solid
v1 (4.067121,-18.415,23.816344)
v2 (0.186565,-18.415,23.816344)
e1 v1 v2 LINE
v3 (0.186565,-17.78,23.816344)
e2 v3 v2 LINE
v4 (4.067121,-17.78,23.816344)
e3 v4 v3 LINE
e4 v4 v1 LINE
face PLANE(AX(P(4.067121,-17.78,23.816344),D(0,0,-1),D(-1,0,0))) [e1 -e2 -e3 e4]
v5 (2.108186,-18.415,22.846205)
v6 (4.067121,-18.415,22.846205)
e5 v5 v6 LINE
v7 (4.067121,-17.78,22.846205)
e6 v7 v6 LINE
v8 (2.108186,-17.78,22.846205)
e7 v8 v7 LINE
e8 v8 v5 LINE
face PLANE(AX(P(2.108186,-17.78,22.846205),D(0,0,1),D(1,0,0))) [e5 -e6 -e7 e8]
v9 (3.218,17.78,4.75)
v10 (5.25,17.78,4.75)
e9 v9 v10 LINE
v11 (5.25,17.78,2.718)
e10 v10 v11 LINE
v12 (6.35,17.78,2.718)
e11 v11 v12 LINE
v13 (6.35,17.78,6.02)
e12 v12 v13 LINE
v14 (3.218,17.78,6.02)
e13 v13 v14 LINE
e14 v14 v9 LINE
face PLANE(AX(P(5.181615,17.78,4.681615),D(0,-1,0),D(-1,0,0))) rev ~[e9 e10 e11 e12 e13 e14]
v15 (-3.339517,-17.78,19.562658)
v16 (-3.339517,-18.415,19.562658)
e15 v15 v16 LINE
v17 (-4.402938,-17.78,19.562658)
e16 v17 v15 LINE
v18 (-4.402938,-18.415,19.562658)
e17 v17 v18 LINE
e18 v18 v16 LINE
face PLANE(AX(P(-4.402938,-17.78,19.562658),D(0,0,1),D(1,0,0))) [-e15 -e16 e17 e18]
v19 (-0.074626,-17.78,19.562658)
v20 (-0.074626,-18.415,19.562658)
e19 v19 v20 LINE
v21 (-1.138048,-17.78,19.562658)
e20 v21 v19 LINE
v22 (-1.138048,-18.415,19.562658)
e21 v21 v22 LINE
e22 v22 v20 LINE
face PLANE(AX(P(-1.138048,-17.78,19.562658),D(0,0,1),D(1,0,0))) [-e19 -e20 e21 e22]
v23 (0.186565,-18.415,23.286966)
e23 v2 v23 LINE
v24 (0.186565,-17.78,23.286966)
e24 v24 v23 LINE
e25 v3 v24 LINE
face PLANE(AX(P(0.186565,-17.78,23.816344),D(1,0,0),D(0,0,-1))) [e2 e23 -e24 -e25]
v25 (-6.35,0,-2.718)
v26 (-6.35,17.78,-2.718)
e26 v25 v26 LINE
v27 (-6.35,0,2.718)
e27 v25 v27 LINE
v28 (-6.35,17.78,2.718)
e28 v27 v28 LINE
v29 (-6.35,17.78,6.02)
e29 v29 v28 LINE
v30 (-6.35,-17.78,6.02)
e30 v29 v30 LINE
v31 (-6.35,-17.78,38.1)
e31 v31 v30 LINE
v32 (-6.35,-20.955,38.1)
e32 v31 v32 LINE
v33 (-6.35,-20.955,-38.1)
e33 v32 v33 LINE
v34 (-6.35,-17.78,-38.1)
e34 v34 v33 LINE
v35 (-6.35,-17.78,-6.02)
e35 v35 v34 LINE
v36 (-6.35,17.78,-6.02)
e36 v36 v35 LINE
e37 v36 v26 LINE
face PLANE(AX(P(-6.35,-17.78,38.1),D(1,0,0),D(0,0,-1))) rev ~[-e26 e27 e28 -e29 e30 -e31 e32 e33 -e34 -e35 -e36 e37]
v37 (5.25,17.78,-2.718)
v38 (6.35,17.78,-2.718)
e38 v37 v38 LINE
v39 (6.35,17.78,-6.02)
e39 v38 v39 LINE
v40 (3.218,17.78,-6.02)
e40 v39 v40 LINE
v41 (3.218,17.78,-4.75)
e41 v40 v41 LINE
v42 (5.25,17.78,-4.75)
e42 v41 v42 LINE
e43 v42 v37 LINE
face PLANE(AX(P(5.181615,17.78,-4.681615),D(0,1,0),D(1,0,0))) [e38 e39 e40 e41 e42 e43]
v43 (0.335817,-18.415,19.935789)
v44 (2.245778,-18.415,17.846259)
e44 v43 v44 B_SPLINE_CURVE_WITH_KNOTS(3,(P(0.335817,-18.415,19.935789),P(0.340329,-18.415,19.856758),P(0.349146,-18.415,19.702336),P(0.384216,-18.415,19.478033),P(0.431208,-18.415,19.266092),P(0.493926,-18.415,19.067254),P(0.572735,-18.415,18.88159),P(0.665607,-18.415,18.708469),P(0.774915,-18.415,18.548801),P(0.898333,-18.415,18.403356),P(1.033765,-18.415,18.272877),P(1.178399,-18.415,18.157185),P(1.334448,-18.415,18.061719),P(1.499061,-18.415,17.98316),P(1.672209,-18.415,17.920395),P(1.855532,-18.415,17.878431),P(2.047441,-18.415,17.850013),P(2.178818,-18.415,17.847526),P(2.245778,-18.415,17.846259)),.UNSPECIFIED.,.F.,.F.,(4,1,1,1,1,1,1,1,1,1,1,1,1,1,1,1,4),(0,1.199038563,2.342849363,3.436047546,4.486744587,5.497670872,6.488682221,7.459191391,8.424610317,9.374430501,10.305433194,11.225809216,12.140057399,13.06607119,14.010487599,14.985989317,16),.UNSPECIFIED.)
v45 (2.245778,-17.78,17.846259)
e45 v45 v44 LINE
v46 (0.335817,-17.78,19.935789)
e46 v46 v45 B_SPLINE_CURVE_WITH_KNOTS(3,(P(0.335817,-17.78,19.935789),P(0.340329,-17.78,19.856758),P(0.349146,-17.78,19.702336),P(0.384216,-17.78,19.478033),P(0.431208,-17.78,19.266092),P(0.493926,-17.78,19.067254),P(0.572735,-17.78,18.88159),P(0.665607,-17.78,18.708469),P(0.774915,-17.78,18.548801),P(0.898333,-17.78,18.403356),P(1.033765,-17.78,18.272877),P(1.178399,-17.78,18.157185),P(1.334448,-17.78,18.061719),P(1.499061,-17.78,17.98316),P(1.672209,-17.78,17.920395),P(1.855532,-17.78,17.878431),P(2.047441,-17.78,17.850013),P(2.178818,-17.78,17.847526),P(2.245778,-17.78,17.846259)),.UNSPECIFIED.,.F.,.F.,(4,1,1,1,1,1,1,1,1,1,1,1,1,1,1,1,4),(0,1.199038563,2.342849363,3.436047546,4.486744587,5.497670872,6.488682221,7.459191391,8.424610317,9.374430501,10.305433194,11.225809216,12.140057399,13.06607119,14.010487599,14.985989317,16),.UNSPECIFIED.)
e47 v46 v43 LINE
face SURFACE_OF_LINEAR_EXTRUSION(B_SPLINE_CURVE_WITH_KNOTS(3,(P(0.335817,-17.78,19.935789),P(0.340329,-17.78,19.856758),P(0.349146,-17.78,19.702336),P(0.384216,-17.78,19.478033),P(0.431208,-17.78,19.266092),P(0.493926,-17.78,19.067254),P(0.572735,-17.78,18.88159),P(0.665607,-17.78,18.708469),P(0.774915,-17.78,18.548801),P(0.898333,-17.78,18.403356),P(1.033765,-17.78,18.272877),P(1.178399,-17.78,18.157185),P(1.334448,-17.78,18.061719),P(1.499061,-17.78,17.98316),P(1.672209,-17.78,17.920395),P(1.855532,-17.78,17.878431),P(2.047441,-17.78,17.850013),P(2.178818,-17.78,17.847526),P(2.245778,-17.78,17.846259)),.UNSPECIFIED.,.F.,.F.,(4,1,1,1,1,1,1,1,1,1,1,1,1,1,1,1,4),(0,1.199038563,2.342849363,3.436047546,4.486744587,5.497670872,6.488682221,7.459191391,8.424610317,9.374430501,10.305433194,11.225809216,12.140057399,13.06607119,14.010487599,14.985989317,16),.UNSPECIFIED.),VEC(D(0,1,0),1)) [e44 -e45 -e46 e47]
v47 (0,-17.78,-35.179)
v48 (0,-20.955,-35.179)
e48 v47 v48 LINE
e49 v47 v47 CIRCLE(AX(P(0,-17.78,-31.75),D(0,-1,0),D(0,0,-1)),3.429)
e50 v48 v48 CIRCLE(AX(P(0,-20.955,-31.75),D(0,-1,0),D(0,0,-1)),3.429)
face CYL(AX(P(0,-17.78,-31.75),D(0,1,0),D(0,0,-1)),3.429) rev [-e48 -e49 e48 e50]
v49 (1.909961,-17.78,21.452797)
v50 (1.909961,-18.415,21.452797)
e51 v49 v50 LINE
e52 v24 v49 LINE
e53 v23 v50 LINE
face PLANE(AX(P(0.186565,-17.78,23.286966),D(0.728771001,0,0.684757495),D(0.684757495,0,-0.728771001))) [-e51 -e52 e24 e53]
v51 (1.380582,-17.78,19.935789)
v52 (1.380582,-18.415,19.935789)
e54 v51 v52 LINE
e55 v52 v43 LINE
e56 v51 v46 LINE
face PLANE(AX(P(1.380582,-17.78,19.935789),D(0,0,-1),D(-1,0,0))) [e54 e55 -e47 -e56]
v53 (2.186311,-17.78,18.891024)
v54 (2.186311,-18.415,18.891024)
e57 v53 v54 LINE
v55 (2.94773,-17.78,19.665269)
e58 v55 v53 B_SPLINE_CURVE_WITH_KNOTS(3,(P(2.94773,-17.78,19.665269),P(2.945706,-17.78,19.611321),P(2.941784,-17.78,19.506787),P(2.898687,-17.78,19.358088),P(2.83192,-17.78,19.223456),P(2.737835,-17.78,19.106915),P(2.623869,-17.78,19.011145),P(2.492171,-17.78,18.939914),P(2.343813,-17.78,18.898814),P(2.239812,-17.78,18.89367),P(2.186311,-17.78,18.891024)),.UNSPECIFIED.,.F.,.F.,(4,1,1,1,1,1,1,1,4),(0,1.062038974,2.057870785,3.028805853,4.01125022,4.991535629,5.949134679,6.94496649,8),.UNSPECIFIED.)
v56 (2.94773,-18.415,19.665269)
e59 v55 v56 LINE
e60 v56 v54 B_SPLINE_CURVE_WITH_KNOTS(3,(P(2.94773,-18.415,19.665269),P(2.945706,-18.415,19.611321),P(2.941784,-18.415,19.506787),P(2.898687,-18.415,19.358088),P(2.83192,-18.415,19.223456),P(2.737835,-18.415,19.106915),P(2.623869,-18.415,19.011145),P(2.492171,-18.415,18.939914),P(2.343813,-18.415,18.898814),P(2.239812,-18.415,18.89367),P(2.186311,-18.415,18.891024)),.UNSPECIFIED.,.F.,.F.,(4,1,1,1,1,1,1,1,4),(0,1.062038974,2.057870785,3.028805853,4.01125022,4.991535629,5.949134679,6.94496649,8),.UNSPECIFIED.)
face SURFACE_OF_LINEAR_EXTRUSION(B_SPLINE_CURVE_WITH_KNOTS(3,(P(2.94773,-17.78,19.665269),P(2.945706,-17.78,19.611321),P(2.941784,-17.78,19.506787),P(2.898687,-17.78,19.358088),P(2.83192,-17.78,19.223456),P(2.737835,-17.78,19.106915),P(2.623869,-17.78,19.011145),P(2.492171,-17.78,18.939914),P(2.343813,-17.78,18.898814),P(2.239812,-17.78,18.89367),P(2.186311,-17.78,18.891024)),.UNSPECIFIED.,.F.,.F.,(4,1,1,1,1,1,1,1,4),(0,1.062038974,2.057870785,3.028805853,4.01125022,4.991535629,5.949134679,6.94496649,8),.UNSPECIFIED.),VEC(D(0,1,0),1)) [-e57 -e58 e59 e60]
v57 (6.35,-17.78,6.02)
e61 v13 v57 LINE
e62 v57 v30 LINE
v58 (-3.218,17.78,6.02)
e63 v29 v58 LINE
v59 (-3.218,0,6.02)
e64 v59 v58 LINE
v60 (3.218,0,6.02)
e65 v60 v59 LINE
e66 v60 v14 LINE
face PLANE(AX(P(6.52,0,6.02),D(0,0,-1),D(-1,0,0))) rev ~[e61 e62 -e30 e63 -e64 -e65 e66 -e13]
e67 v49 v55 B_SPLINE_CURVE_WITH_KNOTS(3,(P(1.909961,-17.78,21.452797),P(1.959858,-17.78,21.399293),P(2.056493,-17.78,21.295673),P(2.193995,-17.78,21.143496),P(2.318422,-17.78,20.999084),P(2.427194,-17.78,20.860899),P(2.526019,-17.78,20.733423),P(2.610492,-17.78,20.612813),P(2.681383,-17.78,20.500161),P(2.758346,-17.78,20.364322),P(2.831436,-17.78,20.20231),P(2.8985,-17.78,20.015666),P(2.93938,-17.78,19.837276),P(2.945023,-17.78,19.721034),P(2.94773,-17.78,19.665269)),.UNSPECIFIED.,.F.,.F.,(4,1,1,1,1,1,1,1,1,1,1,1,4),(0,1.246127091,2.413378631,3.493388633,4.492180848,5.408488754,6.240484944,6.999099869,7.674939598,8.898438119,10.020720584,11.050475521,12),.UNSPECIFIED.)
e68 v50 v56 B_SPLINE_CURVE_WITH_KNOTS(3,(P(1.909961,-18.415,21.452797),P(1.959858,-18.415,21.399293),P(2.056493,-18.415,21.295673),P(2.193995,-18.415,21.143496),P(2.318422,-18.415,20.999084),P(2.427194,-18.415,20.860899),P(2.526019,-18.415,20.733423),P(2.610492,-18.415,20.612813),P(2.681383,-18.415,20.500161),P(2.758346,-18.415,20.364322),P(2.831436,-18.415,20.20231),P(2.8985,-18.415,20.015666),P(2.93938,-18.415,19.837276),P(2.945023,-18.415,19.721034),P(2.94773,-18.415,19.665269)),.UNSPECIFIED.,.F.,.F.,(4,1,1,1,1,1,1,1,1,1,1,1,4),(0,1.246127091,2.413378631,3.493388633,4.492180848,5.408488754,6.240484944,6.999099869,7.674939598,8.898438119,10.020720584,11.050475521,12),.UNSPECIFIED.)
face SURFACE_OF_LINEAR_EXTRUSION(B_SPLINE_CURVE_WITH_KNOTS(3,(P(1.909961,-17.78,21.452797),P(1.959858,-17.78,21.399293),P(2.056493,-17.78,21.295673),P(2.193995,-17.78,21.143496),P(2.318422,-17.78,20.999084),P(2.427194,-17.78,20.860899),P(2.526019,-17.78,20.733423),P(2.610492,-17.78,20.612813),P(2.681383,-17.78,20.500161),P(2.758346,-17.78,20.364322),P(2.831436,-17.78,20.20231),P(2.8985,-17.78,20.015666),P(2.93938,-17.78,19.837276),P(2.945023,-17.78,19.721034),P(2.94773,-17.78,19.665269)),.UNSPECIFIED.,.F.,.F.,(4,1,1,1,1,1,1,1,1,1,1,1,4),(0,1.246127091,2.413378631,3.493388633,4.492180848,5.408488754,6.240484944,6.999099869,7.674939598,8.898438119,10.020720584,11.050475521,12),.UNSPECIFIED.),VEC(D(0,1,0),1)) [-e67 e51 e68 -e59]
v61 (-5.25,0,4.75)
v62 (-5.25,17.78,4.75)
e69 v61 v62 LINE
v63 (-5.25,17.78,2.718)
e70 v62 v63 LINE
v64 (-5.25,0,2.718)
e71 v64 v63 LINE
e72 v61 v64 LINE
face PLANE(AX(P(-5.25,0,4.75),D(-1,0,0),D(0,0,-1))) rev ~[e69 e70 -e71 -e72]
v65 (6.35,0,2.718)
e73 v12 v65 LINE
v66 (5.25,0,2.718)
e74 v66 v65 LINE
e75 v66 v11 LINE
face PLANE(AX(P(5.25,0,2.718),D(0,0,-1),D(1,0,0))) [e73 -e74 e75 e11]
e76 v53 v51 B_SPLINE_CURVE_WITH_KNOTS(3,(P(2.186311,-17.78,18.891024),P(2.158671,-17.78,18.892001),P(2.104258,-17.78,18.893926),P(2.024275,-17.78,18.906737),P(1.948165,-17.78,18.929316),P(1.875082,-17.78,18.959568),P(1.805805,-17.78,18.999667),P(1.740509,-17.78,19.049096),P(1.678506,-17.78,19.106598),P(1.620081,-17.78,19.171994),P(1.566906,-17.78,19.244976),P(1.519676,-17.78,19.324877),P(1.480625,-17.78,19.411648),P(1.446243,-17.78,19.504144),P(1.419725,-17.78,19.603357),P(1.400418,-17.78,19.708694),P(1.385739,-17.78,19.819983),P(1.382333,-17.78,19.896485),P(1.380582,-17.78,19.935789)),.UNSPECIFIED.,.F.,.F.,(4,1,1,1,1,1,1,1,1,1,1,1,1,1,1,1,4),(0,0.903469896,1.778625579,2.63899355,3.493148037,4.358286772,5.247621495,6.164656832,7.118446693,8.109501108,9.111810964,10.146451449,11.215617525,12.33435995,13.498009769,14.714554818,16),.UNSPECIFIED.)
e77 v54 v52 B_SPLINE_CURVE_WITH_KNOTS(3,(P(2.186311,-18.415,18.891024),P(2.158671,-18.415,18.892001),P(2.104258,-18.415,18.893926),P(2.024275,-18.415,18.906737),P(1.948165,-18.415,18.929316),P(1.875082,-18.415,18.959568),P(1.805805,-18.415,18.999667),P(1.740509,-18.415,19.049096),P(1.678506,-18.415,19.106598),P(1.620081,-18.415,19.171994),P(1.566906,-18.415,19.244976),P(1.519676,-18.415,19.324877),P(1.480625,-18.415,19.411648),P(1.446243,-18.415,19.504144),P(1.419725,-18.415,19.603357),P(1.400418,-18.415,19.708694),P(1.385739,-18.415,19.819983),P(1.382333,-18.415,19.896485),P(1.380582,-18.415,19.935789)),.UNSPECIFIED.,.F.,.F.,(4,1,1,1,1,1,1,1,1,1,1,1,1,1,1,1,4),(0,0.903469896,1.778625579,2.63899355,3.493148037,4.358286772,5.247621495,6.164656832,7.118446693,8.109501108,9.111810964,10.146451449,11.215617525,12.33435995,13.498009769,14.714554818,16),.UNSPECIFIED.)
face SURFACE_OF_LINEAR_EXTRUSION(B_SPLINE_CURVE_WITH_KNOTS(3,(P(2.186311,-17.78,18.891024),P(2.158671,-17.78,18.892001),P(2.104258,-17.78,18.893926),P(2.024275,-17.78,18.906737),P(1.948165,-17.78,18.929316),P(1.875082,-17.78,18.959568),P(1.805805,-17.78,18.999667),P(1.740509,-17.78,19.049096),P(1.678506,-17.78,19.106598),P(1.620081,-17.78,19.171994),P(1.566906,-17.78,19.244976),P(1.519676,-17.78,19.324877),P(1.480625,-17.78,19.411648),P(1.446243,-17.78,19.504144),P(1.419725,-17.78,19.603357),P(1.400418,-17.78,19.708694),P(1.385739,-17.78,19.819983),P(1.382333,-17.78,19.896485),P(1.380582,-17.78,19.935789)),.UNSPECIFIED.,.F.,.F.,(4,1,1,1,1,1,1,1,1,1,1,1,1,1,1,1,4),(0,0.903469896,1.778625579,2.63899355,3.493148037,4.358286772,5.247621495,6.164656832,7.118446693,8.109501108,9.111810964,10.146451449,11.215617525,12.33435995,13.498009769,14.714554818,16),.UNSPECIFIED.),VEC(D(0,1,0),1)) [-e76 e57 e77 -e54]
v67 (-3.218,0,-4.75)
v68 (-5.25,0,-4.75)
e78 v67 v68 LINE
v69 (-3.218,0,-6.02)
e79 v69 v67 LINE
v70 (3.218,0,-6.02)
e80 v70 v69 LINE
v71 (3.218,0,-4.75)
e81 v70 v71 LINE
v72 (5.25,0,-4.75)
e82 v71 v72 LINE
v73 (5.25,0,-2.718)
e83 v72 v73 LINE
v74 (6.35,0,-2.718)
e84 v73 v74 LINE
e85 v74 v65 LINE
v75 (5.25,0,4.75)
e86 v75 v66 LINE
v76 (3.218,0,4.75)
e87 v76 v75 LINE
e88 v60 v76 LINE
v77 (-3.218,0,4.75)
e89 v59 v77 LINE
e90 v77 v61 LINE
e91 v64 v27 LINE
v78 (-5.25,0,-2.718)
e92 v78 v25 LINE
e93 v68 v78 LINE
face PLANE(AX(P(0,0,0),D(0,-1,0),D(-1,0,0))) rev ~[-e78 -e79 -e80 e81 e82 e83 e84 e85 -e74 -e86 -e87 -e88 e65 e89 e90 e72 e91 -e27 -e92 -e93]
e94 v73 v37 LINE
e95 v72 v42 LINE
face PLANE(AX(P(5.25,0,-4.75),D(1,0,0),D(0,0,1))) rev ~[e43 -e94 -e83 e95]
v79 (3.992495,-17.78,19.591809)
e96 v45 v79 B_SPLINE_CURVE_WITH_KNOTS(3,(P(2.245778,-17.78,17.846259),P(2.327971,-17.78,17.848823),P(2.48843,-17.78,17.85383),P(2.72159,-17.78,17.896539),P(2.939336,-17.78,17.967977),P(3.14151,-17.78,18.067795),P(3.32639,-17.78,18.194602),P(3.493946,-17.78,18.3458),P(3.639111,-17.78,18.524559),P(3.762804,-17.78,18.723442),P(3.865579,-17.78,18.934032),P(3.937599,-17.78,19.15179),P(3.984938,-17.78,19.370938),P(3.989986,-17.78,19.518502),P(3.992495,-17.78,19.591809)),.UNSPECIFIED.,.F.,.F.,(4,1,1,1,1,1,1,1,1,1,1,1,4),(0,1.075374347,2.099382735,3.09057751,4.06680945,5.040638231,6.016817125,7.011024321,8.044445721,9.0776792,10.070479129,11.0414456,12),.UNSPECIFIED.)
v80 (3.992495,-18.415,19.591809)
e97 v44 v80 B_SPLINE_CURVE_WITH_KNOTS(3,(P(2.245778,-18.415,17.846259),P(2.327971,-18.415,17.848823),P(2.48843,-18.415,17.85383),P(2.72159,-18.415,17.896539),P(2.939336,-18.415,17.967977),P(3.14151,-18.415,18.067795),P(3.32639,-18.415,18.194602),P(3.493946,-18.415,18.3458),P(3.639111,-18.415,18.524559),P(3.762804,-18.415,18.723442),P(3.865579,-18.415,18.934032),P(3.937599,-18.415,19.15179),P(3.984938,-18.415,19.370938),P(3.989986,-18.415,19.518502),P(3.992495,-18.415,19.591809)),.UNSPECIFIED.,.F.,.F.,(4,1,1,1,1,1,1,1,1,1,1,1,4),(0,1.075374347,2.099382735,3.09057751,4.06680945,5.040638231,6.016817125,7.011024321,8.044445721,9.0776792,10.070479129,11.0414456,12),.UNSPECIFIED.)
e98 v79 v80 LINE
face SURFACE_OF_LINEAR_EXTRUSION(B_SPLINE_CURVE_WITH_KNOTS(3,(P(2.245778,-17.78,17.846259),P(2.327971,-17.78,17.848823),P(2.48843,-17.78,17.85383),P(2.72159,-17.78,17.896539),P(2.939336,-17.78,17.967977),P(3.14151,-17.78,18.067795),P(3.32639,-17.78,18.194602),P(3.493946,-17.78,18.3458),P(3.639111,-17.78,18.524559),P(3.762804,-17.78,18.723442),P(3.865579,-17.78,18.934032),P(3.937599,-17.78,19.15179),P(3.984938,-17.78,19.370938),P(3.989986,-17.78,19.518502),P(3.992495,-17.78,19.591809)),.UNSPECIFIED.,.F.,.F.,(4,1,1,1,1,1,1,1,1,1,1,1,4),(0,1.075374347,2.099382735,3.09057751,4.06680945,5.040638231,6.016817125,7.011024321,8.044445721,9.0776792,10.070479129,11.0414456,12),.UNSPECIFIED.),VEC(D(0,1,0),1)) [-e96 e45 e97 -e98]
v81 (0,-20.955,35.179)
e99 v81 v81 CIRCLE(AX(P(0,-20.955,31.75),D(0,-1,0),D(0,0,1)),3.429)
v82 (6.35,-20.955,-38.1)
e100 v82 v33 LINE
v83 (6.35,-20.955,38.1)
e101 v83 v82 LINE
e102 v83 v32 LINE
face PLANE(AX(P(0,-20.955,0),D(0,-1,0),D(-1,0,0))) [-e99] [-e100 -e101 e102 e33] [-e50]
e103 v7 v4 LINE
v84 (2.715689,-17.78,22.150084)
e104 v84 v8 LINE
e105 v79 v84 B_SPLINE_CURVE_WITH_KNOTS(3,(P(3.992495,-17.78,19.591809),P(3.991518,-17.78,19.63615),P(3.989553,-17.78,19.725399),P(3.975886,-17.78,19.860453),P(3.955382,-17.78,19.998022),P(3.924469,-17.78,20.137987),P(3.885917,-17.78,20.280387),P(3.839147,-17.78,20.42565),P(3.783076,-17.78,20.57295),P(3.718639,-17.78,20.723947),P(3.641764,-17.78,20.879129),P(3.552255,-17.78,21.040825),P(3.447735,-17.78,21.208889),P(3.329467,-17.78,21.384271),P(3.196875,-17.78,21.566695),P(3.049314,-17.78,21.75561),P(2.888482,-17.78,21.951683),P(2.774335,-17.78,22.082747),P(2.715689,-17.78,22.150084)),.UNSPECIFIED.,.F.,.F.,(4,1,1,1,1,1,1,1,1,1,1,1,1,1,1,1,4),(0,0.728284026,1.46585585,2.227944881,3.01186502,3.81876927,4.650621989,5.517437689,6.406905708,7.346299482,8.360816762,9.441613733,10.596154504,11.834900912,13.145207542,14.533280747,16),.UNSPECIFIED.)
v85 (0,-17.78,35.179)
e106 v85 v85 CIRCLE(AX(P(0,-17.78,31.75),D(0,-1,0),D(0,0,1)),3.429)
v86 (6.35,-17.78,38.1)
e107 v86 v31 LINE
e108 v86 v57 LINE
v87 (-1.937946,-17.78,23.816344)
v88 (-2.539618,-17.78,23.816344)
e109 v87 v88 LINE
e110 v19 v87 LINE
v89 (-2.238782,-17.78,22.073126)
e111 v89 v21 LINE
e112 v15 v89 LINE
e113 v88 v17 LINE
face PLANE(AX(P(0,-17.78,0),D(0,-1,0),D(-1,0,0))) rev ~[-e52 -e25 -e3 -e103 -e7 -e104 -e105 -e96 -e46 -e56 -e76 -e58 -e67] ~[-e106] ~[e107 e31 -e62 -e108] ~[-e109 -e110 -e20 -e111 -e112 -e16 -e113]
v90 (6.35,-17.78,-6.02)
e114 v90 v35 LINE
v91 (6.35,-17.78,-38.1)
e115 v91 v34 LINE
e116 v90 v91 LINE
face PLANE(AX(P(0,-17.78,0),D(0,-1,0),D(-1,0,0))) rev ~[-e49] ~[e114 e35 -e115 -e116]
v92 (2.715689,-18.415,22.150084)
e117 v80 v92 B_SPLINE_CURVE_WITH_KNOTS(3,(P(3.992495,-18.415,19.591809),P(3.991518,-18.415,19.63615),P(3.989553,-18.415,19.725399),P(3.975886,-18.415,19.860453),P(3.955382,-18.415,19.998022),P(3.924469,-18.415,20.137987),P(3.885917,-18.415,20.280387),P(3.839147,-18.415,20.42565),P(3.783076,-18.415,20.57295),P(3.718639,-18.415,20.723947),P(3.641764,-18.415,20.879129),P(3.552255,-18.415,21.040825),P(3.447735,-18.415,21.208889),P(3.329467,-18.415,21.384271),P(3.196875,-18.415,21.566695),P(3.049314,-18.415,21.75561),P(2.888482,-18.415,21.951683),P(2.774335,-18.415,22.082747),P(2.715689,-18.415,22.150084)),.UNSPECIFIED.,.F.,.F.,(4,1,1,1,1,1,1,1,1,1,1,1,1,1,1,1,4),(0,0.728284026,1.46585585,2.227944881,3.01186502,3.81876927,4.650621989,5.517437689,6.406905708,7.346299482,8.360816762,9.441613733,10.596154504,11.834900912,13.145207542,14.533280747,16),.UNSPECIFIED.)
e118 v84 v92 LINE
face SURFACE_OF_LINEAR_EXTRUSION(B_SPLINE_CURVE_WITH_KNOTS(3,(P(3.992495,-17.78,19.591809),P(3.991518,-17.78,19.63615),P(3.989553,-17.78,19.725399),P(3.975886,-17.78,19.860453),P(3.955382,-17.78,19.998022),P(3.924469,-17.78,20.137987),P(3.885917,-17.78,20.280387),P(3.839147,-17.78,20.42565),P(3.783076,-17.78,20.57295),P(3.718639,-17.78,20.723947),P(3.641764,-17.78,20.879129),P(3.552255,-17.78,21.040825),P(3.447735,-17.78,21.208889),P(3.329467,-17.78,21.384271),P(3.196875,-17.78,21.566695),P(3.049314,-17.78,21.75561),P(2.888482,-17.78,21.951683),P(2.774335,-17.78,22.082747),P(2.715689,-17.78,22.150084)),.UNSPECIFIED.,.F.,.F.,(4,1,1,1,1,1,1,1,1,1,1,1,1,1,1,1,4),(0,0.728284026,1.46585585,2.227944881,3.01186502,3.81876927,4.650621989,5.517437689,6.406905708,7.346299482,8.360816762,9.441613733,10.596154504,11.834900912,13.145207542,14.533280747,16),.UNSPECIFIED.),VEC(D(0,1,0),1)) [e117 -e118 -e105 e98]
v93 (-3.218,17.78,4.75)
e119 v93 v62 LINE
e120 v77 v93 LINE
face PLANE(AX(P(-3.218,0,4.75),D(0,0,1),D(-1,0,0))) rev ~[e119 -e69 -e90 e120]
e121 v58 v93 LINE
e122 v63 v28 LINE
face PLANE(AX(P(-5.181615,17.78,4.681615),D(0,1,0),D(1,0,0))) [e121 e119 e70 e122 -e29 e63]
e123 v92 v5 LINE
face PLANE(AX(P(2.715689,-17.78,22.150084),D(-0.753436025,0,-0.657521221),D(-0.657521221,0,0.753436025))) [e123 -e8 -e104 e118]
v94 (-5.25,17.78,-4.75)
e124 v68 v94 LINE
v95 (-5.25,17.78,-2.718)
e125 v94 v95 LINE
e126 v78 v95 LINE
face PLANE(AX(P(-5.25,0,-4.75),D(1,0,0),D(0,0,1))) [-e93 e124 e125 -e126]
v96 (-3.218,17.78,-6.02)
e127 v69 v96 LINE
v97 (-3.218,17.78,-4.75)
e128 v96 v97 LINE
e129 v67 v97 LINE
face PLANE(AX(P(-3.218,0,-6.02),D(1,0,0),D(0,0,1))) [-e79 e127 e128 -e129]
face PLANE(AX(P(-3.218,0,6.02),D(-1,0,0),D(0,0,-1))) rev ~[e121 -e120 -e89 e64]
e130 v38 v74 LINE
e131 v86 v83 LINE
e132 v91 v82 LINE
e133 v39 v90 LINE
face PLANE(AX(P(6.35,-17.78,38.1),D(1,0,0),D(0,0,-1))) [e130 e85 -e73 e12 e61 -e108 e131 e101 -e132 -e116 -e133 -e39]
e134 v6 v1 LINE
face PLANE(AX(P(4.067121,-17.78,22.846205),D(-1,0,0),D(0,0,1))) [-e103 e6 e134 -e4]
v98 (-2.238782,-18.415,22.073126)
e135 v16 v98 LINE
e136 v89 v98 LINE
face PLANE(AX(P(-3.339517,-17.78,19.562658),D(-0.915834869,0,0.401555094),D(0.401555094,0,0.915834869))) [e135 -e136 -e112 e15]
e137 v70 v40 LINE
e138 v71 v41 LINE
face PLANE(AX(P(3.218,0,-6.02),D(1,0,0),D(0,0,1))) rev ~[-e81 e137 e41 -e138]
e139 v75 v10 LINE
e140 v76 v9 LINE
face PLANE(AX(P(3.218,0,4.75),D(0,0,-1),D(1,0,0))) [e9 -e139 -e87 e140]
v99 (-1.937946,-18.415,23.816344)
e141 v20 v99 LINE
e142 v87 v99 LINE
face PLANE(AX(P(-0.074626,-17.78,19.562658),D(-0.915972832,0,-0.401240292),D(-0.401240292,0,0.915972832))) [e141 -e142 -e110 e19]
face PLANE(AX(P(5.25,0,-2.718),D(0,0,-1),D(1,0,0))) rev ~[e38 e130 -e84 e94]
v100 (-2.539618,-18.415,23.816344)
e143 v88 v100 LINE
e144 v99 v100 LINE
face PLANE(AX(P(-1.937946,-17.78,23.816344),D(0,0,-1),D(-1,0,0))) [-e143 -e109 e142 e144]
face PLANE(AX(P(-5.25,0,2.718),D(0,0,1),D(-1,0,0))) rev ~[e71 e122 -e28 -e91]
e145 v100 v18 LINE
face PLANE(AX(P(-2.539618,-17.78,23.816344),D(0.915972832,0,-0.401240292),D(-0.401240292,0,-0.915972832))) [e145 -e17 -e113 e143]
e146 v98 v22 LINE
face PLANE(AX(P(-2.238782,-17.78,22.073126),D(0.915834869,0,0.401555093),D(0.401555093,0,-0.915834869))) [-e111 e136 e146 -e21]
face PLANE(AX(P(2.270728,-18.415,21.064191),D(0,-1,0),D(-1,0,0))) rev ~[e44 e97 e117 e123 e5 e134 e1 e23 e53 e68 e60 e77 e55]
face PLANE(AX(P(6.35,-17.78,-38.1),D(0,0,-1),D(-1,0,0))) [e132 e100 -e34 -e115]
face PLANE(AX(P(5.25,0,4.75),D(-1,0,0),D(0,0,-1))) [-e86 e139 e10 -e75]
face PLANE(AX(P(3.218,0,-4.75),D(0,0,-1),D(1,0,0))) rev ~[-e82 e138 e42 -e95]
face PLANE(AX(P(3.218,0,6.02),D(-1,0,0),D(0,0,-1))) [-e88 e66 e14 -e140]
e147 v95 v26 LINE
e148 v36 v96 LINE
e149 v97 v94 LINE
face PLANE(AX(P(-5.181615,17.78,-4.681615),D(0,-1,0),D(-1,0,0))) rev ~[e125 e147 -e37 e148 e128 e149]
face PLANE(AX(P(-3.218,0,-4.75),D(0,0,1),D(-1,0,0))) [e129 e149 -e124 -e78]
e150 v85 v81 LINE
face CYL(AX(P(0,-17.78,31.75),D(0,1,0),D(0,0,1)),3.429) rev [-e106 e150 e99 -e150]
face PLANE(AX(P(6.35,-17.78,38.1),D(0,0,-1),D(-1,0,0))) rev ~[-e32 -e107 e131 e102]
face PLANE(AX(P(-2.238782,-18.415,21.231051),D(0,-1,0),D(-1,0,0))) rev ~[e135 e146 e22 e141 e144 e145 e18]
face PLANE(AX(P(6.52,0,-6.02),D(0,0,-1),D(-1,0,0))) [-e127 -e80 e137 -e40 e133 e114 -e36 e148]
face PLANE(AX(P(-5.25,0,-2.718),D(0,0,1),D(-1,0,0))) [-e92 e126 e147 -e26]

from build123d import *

# Parameters (mm, degrees)
BOSS_EXTRUDE1_DEPTH   = 17.78
BOSS_EXTRUDE1_2_DEPTH = 17.78
BOSS_EXTRUDE1_3_DEPTH = 17.78
BOSS_EXTRUDE1_4_DEPTH = 17.78
SKETCH2_W             = 13.04
SKETCH2_H             = 12.04
BOSS_EXTRUDE2_DEPTH   = 17.78
SKETCH3_W             = 12.7
SKETCH3_H             = 76.2
SKETCH3_R             = 3.429
BOSS_EXTRUDE3_DEPTH   = 3.175
SKETCH4_OUTSIDE_W     = 32.334
SKETCH4_OUTSIDE_H     = 95.494
SKETCH4_OUTSIDE_W_2   = 12.7
SKETCH4_OUTSIDE_H_2   = 76.2
CUT_EXTRUDE2_DEPTH    = 55.722213268
CUT_EXTRUDE3_DEPTH    = 0.635


with BuildPart() as part:
    # Sketch1 → Boss-Extrude1 (new body)
    with BuildSketch(Plane(origin=(0, 0, 0), x_dir=(1, 0, 0), z_dir=(0, 1, 0))):
        Polygon((-5.25, 4.75), (-5.25, 2.718), (-6.52, 2.718), (-6.52, 6.02), (-3.218, 6.02), (-3.218, 4.75), align=None)
    extrude(amount=BOSS_EXTRUDE1_DEPTH)



with BuildPart() as body_2:
    # Sketch1 → Boss-Extrude1 2 (new body)
    with BuildSketch(Plane(origin=(0, 0, 0), x_dir=(1, 0, 0), z_dir=(0, 1, 0))):
        Polygon((6.52, 2.718), (6.52, 6.02), (3.218, 6.02), (3.218, 4.75), (5.25, 4.75), (5.25, 2.718), align=None)
    extrude(amount=BOSS_EXTRUDE1_2_DEPTH)


with BuildPart() as body_3:
    # Sketch1 → Boss-Extrude1 3 (new body)
    with BuildSketch(Plane(origin=(0, 0, 0), x_dir=(1, 0, 0), z_dir=(0, 1, 0))):
        Polygon((5.25, -2.718), (6.52, -2.718), (6.52, -6.02), (3.218, -6.02), (3.218, -4.75), (5.25, -4.75), align=None)
    extrude(amount=BOSS_EXTRUDE1_3_DEPTH)


with BuildPart() as body_4:
    # Sketch1 → Boss-Extrude1 4 (new body)
    with BuildSketch(Plane(origin=(0, 0, 0), x_dir=(1, 0, 0), z_dir=(0, 1, 0))):
        Polygon((-5.25, -2.718), (-6.52, -2.718), (-6.52, -6.02), (-3.218, -6.02), (-3.218, -4.75), (-5.25, -4.75), align=None)
    extrude(amount=BOSS_EXTRUDE1_4_DEPTH)


with BuildPart() as part_1:
    add(part.part)

    add(body_2.part)  # Boss-Extrude2 merges body 2

    add(body_3.part)  # Boss-Extrude2 merges body 3

    add(body_4.part)  # Boss-Extrude2 merges body 4
    # Sketch2 → Boss-Extrude2 (add)
    with BuildSketch(Plane(origin=(0, 0, 0), x_dir=(-1, 0, 0), z_dir=(0, -1, 0))):
        Rectangle(SKETCH2_W, SKETCH2_H)
    extrude(amount=BOSS_EXTRUDE2_DEPTH)

    # Sketch3 → Boss-Extrude3 (add)
    with BuildSketch(Plane(origin=(0, -17.78, 0), x_dir=(-1, 0, 0), z_dir=(0, -1, 0))):
        Rectangle(SKETCH3_W, SKETCH3_H)
        with Locations(Location((0, 31.75, 0), (0, 0, 90))):
            Circle(SKETCH3_R, mode=Mode.SUBTRACT)
        with Locations(Location((0, -31.75, 0), (0, 0, 270))):
            Circle(SKETCH3_R, mode=Mode.SUBTRACT)
    extrude(amount=BOSS_EXTRUDE3_DEPTH)

    # Sketch4 outside → Cut-Extrude2 (cut, through all)
    with BuildSketch(Plane.XZ.offset(20.955)):
        Rectangle(SKETCH4_OUTSIDE_W, SKETCH4_OUTSIDE_H)
        Rectangle(SKETCH4_OUTSIDE_W_2, SKETCH4_OUTSIDE_H_2, mode=Mode.SUBTRACT)
    extrude(amount=-CUT_EXTRUDE2_DEPTH, mode=Mode.SUBTRACT)

    # Sketch5 → Cut-Extrude3 (cut)
    with BuildSketch(Plane(origin=(0, -17.78, 0), x_dir=(1, 0, 0), z_dir=(0, 1, 0))):
        Polygon((-4.402938034, -19.56265828), (-3.33951656, -19.56265828), (-2.238782051, -22.073125862), (-1.138047543, -19.56265828), (-0.074626068, -19.56265828), (-1.937945713, -23.816344178), (-2.539618389, -23.816344178), align=None)
        with BuildLine():
            Line((1.380582265, -19.935788622), (0.335817308, -19.935788622))
            add(Edge.make_bspline(
                [(0.335817308, -19.935788622), (0.340329487, -19.85675768), (0.349146015, -19.702335965), (0.384215936, -19.478033479), (0.431208425, -19.266092295), (0.493926141, -19.067253807), (0.572735055, -18.881590265), (0.665607209, -18.708468733), (0.774915278, -18.5488007), (0.898332826, -18.403356174), (1.033764562, -18.272876548), (1.17839879, -18.157185114), (1.334447887, -18.061719455), (1.499060707, -17.983160056), (1.672209219, -17.920394746), (1.855531682, -17.878431057), (2.04744079, -17.850012836), (2.178818114, -17.847526128), (2.245778245, -17.846258707)],
                knots=[0, 0, 0, 0, 1.199038563, 2.342849363, 3.436047546, 4.486744587, 5.497670872, 6.488682221, 7.459191391, 8.424610317, 9.374430501, 10.305433194, 11.225809216, 12.140057399, 13.06607119, 14.010487599, 14.985989317, 16, 16, 16, 16], degree=3))
            add(Edge.make_bspline(
                [(2.245778245, -17.846258707), (2.327970856, -17.848823334), (2.488430093, -17.853830085), (2.721590093, -17.896539334), (2.93933604, -17.967977154), (3.141509653, -18.067794628), (3.326389793, -18.194602266), (3.493945801, -18.34579962), (3.639110517, -18.52455889), (3.762804328, -18.723442196), (3.865579101, -18.934031626), (3.937599381, -19.151789829), (3.984937536, -19.370938387), (3.989986444, -19.518501933), (3.992494658, -19.591809088)],
                knots=[0, 0, 0, 0, 1.075374347, 2.099382735, 3.09057751, 4.06680945, 5.040638231, 6.016817125, 7.011024321, 8.044445721, 9.0776792, 10.070479129, 11.0414456, 12, 12, 12, 12], degree=3))
            add(Edge.make_bspline(
                [(3.992494658, -19.591809088), (3.991518092, -19.636150437), (3.989552505, -19.725398619), (3.97588552, -19.860453023), (3.955382341, -19.998021723), (3.924468545, -20.137986768), (3.885916506, -20.280387391), (3.839147311, -20.425649748), (3.783076101, -20.572950255), (3.718638592, -20.723946755), (3.641764481, -20.879129473), (3.552255264, -21.04082466), (3.447735164, -21.208888878), (3.329466651, -21.384271073), (3.196875325, -21.566694641), (3.049313917, -21.755610064), (2.888481989, -21.95168302), (2.774335046, -22.082746787), (2.715689269, -22.150083995)],
                knots=[0, 0, 0, 0, 0.728284026, 1.46585585, 2.227944881, 3.01186502, 3.81876927, 4.650621989, 5.517437689, 6.406905708, 7.346299482, 8.360816762, 9.441613733, 10.596154504, 11.834900912, 13.145207542, 14.533280747, 16, 16, 16, 16], degree=3))
            Line((2.715689269, -22.150083995), (2.108186432, -22.846205289))
            Line((2.108186432, -22.846205289), (4.067120726, -22.846205289))
            Line((4.067120726, -22.846205289), (4.067120726, -23.816344178))
            Line((4.067120726, -23.816344178), (0.186565171, -23.816344178))
            Line((0.186565171, -23.816344178), (0.186565171, -23.286965505))
            Line((0.186565171, -23.286965505), (1.909960938, -21.452796668))
            add(Edge.make_bspline(
                [(1.909960938, -21.452796668), (1.959857674, -21.399293394), (2.056492855, -21.295673418), (2.193994758, -21.143496459), (2.318421835, -20.999084157), (2.427193988, -20.860898814), (2.526019439, -20.733422598), (2.610491571, -20.612813217), (2.681383236, -20.500161025), (2.758346193, -20.364322155), (2.831435702, -20.202310131), (2.898499751, -20.015665636), (2.93937993, -19.837276484), (2.945022687, -19.721034278), (2.947729701, -19.665269124)],
                knots=[0, 0, 0, 0, 1.246127091, 2.413378631, 3.493388633, 4.492180848, 5.408488754, 6.240484944, 6.999099869, 7.674939598, 8.898438119, 10.020720584, 11.050475521, 12, 12, 12, 12], degree=3))
            add(Edge.make_bspline(
                [(2.947729701, -19.665269124), (2.945705732, -19.611320641), (2.941783968, -19.506786804), (2.898686962, -19.358087978), (2.831919585, -19.223456371), (2.737834921, -19.106914927), (2.623868926, -19.011145094), (2.492170513, -18.939914183), (2.343813413, -18.898814274), (2.239812259, -18.893670033), (2.186310597, -18.891023665)],
                knots=[0, 0, 0, 0, 1.062038974, 2.057870785, 3.028805853, 4.01125022, 4.991535629, 5.949134679, 6.94496649, 8, 8, 8, 8], degree=3))
            add(Edge.make_bspline(
                [(2.186310597, -18.891023665), (2.158670957, -18.892001265), (2.104257887, -18.893925828), (2.024274927, -18.906737125), (1.948165395, -18.929315698), (1.875082148, -18.959567808), (1.80580515, -18.999667197), (1.740509141, -19.049096083), (1.678506143, -19.106598364), (1.620080529, -19.17199424), (1.566905592, -19.244976057), (1.519675807, -19.324877276), (1.480624638, -19.411648298), (1.44624257, -19.504143614), (1.419725473, -19.603356699), (1.400417737, -19.708693775), (1.385739355, -19.819983471), (1.382332567, -19.896484672), (1.380582265, -19.935788622)],
                knots=[0, 0, 0, 0, 0.903469896, 1.778625579, 2.63899355, 3.493148037, 4.358286772, 5.247621495, 6.164656832, 7.118446693, 8.109501108, 9.111810964, 10.146451449, 11.215617525, 12.33435995, 13.498009769, 14.714554818, 16, 16, 16, 16], degree=3))
        make_face()
    extrude(amount=-CUT_EXTRUDE3_DEPTH, mode=Mode.SUBTRACT)


solid = part_1.part
